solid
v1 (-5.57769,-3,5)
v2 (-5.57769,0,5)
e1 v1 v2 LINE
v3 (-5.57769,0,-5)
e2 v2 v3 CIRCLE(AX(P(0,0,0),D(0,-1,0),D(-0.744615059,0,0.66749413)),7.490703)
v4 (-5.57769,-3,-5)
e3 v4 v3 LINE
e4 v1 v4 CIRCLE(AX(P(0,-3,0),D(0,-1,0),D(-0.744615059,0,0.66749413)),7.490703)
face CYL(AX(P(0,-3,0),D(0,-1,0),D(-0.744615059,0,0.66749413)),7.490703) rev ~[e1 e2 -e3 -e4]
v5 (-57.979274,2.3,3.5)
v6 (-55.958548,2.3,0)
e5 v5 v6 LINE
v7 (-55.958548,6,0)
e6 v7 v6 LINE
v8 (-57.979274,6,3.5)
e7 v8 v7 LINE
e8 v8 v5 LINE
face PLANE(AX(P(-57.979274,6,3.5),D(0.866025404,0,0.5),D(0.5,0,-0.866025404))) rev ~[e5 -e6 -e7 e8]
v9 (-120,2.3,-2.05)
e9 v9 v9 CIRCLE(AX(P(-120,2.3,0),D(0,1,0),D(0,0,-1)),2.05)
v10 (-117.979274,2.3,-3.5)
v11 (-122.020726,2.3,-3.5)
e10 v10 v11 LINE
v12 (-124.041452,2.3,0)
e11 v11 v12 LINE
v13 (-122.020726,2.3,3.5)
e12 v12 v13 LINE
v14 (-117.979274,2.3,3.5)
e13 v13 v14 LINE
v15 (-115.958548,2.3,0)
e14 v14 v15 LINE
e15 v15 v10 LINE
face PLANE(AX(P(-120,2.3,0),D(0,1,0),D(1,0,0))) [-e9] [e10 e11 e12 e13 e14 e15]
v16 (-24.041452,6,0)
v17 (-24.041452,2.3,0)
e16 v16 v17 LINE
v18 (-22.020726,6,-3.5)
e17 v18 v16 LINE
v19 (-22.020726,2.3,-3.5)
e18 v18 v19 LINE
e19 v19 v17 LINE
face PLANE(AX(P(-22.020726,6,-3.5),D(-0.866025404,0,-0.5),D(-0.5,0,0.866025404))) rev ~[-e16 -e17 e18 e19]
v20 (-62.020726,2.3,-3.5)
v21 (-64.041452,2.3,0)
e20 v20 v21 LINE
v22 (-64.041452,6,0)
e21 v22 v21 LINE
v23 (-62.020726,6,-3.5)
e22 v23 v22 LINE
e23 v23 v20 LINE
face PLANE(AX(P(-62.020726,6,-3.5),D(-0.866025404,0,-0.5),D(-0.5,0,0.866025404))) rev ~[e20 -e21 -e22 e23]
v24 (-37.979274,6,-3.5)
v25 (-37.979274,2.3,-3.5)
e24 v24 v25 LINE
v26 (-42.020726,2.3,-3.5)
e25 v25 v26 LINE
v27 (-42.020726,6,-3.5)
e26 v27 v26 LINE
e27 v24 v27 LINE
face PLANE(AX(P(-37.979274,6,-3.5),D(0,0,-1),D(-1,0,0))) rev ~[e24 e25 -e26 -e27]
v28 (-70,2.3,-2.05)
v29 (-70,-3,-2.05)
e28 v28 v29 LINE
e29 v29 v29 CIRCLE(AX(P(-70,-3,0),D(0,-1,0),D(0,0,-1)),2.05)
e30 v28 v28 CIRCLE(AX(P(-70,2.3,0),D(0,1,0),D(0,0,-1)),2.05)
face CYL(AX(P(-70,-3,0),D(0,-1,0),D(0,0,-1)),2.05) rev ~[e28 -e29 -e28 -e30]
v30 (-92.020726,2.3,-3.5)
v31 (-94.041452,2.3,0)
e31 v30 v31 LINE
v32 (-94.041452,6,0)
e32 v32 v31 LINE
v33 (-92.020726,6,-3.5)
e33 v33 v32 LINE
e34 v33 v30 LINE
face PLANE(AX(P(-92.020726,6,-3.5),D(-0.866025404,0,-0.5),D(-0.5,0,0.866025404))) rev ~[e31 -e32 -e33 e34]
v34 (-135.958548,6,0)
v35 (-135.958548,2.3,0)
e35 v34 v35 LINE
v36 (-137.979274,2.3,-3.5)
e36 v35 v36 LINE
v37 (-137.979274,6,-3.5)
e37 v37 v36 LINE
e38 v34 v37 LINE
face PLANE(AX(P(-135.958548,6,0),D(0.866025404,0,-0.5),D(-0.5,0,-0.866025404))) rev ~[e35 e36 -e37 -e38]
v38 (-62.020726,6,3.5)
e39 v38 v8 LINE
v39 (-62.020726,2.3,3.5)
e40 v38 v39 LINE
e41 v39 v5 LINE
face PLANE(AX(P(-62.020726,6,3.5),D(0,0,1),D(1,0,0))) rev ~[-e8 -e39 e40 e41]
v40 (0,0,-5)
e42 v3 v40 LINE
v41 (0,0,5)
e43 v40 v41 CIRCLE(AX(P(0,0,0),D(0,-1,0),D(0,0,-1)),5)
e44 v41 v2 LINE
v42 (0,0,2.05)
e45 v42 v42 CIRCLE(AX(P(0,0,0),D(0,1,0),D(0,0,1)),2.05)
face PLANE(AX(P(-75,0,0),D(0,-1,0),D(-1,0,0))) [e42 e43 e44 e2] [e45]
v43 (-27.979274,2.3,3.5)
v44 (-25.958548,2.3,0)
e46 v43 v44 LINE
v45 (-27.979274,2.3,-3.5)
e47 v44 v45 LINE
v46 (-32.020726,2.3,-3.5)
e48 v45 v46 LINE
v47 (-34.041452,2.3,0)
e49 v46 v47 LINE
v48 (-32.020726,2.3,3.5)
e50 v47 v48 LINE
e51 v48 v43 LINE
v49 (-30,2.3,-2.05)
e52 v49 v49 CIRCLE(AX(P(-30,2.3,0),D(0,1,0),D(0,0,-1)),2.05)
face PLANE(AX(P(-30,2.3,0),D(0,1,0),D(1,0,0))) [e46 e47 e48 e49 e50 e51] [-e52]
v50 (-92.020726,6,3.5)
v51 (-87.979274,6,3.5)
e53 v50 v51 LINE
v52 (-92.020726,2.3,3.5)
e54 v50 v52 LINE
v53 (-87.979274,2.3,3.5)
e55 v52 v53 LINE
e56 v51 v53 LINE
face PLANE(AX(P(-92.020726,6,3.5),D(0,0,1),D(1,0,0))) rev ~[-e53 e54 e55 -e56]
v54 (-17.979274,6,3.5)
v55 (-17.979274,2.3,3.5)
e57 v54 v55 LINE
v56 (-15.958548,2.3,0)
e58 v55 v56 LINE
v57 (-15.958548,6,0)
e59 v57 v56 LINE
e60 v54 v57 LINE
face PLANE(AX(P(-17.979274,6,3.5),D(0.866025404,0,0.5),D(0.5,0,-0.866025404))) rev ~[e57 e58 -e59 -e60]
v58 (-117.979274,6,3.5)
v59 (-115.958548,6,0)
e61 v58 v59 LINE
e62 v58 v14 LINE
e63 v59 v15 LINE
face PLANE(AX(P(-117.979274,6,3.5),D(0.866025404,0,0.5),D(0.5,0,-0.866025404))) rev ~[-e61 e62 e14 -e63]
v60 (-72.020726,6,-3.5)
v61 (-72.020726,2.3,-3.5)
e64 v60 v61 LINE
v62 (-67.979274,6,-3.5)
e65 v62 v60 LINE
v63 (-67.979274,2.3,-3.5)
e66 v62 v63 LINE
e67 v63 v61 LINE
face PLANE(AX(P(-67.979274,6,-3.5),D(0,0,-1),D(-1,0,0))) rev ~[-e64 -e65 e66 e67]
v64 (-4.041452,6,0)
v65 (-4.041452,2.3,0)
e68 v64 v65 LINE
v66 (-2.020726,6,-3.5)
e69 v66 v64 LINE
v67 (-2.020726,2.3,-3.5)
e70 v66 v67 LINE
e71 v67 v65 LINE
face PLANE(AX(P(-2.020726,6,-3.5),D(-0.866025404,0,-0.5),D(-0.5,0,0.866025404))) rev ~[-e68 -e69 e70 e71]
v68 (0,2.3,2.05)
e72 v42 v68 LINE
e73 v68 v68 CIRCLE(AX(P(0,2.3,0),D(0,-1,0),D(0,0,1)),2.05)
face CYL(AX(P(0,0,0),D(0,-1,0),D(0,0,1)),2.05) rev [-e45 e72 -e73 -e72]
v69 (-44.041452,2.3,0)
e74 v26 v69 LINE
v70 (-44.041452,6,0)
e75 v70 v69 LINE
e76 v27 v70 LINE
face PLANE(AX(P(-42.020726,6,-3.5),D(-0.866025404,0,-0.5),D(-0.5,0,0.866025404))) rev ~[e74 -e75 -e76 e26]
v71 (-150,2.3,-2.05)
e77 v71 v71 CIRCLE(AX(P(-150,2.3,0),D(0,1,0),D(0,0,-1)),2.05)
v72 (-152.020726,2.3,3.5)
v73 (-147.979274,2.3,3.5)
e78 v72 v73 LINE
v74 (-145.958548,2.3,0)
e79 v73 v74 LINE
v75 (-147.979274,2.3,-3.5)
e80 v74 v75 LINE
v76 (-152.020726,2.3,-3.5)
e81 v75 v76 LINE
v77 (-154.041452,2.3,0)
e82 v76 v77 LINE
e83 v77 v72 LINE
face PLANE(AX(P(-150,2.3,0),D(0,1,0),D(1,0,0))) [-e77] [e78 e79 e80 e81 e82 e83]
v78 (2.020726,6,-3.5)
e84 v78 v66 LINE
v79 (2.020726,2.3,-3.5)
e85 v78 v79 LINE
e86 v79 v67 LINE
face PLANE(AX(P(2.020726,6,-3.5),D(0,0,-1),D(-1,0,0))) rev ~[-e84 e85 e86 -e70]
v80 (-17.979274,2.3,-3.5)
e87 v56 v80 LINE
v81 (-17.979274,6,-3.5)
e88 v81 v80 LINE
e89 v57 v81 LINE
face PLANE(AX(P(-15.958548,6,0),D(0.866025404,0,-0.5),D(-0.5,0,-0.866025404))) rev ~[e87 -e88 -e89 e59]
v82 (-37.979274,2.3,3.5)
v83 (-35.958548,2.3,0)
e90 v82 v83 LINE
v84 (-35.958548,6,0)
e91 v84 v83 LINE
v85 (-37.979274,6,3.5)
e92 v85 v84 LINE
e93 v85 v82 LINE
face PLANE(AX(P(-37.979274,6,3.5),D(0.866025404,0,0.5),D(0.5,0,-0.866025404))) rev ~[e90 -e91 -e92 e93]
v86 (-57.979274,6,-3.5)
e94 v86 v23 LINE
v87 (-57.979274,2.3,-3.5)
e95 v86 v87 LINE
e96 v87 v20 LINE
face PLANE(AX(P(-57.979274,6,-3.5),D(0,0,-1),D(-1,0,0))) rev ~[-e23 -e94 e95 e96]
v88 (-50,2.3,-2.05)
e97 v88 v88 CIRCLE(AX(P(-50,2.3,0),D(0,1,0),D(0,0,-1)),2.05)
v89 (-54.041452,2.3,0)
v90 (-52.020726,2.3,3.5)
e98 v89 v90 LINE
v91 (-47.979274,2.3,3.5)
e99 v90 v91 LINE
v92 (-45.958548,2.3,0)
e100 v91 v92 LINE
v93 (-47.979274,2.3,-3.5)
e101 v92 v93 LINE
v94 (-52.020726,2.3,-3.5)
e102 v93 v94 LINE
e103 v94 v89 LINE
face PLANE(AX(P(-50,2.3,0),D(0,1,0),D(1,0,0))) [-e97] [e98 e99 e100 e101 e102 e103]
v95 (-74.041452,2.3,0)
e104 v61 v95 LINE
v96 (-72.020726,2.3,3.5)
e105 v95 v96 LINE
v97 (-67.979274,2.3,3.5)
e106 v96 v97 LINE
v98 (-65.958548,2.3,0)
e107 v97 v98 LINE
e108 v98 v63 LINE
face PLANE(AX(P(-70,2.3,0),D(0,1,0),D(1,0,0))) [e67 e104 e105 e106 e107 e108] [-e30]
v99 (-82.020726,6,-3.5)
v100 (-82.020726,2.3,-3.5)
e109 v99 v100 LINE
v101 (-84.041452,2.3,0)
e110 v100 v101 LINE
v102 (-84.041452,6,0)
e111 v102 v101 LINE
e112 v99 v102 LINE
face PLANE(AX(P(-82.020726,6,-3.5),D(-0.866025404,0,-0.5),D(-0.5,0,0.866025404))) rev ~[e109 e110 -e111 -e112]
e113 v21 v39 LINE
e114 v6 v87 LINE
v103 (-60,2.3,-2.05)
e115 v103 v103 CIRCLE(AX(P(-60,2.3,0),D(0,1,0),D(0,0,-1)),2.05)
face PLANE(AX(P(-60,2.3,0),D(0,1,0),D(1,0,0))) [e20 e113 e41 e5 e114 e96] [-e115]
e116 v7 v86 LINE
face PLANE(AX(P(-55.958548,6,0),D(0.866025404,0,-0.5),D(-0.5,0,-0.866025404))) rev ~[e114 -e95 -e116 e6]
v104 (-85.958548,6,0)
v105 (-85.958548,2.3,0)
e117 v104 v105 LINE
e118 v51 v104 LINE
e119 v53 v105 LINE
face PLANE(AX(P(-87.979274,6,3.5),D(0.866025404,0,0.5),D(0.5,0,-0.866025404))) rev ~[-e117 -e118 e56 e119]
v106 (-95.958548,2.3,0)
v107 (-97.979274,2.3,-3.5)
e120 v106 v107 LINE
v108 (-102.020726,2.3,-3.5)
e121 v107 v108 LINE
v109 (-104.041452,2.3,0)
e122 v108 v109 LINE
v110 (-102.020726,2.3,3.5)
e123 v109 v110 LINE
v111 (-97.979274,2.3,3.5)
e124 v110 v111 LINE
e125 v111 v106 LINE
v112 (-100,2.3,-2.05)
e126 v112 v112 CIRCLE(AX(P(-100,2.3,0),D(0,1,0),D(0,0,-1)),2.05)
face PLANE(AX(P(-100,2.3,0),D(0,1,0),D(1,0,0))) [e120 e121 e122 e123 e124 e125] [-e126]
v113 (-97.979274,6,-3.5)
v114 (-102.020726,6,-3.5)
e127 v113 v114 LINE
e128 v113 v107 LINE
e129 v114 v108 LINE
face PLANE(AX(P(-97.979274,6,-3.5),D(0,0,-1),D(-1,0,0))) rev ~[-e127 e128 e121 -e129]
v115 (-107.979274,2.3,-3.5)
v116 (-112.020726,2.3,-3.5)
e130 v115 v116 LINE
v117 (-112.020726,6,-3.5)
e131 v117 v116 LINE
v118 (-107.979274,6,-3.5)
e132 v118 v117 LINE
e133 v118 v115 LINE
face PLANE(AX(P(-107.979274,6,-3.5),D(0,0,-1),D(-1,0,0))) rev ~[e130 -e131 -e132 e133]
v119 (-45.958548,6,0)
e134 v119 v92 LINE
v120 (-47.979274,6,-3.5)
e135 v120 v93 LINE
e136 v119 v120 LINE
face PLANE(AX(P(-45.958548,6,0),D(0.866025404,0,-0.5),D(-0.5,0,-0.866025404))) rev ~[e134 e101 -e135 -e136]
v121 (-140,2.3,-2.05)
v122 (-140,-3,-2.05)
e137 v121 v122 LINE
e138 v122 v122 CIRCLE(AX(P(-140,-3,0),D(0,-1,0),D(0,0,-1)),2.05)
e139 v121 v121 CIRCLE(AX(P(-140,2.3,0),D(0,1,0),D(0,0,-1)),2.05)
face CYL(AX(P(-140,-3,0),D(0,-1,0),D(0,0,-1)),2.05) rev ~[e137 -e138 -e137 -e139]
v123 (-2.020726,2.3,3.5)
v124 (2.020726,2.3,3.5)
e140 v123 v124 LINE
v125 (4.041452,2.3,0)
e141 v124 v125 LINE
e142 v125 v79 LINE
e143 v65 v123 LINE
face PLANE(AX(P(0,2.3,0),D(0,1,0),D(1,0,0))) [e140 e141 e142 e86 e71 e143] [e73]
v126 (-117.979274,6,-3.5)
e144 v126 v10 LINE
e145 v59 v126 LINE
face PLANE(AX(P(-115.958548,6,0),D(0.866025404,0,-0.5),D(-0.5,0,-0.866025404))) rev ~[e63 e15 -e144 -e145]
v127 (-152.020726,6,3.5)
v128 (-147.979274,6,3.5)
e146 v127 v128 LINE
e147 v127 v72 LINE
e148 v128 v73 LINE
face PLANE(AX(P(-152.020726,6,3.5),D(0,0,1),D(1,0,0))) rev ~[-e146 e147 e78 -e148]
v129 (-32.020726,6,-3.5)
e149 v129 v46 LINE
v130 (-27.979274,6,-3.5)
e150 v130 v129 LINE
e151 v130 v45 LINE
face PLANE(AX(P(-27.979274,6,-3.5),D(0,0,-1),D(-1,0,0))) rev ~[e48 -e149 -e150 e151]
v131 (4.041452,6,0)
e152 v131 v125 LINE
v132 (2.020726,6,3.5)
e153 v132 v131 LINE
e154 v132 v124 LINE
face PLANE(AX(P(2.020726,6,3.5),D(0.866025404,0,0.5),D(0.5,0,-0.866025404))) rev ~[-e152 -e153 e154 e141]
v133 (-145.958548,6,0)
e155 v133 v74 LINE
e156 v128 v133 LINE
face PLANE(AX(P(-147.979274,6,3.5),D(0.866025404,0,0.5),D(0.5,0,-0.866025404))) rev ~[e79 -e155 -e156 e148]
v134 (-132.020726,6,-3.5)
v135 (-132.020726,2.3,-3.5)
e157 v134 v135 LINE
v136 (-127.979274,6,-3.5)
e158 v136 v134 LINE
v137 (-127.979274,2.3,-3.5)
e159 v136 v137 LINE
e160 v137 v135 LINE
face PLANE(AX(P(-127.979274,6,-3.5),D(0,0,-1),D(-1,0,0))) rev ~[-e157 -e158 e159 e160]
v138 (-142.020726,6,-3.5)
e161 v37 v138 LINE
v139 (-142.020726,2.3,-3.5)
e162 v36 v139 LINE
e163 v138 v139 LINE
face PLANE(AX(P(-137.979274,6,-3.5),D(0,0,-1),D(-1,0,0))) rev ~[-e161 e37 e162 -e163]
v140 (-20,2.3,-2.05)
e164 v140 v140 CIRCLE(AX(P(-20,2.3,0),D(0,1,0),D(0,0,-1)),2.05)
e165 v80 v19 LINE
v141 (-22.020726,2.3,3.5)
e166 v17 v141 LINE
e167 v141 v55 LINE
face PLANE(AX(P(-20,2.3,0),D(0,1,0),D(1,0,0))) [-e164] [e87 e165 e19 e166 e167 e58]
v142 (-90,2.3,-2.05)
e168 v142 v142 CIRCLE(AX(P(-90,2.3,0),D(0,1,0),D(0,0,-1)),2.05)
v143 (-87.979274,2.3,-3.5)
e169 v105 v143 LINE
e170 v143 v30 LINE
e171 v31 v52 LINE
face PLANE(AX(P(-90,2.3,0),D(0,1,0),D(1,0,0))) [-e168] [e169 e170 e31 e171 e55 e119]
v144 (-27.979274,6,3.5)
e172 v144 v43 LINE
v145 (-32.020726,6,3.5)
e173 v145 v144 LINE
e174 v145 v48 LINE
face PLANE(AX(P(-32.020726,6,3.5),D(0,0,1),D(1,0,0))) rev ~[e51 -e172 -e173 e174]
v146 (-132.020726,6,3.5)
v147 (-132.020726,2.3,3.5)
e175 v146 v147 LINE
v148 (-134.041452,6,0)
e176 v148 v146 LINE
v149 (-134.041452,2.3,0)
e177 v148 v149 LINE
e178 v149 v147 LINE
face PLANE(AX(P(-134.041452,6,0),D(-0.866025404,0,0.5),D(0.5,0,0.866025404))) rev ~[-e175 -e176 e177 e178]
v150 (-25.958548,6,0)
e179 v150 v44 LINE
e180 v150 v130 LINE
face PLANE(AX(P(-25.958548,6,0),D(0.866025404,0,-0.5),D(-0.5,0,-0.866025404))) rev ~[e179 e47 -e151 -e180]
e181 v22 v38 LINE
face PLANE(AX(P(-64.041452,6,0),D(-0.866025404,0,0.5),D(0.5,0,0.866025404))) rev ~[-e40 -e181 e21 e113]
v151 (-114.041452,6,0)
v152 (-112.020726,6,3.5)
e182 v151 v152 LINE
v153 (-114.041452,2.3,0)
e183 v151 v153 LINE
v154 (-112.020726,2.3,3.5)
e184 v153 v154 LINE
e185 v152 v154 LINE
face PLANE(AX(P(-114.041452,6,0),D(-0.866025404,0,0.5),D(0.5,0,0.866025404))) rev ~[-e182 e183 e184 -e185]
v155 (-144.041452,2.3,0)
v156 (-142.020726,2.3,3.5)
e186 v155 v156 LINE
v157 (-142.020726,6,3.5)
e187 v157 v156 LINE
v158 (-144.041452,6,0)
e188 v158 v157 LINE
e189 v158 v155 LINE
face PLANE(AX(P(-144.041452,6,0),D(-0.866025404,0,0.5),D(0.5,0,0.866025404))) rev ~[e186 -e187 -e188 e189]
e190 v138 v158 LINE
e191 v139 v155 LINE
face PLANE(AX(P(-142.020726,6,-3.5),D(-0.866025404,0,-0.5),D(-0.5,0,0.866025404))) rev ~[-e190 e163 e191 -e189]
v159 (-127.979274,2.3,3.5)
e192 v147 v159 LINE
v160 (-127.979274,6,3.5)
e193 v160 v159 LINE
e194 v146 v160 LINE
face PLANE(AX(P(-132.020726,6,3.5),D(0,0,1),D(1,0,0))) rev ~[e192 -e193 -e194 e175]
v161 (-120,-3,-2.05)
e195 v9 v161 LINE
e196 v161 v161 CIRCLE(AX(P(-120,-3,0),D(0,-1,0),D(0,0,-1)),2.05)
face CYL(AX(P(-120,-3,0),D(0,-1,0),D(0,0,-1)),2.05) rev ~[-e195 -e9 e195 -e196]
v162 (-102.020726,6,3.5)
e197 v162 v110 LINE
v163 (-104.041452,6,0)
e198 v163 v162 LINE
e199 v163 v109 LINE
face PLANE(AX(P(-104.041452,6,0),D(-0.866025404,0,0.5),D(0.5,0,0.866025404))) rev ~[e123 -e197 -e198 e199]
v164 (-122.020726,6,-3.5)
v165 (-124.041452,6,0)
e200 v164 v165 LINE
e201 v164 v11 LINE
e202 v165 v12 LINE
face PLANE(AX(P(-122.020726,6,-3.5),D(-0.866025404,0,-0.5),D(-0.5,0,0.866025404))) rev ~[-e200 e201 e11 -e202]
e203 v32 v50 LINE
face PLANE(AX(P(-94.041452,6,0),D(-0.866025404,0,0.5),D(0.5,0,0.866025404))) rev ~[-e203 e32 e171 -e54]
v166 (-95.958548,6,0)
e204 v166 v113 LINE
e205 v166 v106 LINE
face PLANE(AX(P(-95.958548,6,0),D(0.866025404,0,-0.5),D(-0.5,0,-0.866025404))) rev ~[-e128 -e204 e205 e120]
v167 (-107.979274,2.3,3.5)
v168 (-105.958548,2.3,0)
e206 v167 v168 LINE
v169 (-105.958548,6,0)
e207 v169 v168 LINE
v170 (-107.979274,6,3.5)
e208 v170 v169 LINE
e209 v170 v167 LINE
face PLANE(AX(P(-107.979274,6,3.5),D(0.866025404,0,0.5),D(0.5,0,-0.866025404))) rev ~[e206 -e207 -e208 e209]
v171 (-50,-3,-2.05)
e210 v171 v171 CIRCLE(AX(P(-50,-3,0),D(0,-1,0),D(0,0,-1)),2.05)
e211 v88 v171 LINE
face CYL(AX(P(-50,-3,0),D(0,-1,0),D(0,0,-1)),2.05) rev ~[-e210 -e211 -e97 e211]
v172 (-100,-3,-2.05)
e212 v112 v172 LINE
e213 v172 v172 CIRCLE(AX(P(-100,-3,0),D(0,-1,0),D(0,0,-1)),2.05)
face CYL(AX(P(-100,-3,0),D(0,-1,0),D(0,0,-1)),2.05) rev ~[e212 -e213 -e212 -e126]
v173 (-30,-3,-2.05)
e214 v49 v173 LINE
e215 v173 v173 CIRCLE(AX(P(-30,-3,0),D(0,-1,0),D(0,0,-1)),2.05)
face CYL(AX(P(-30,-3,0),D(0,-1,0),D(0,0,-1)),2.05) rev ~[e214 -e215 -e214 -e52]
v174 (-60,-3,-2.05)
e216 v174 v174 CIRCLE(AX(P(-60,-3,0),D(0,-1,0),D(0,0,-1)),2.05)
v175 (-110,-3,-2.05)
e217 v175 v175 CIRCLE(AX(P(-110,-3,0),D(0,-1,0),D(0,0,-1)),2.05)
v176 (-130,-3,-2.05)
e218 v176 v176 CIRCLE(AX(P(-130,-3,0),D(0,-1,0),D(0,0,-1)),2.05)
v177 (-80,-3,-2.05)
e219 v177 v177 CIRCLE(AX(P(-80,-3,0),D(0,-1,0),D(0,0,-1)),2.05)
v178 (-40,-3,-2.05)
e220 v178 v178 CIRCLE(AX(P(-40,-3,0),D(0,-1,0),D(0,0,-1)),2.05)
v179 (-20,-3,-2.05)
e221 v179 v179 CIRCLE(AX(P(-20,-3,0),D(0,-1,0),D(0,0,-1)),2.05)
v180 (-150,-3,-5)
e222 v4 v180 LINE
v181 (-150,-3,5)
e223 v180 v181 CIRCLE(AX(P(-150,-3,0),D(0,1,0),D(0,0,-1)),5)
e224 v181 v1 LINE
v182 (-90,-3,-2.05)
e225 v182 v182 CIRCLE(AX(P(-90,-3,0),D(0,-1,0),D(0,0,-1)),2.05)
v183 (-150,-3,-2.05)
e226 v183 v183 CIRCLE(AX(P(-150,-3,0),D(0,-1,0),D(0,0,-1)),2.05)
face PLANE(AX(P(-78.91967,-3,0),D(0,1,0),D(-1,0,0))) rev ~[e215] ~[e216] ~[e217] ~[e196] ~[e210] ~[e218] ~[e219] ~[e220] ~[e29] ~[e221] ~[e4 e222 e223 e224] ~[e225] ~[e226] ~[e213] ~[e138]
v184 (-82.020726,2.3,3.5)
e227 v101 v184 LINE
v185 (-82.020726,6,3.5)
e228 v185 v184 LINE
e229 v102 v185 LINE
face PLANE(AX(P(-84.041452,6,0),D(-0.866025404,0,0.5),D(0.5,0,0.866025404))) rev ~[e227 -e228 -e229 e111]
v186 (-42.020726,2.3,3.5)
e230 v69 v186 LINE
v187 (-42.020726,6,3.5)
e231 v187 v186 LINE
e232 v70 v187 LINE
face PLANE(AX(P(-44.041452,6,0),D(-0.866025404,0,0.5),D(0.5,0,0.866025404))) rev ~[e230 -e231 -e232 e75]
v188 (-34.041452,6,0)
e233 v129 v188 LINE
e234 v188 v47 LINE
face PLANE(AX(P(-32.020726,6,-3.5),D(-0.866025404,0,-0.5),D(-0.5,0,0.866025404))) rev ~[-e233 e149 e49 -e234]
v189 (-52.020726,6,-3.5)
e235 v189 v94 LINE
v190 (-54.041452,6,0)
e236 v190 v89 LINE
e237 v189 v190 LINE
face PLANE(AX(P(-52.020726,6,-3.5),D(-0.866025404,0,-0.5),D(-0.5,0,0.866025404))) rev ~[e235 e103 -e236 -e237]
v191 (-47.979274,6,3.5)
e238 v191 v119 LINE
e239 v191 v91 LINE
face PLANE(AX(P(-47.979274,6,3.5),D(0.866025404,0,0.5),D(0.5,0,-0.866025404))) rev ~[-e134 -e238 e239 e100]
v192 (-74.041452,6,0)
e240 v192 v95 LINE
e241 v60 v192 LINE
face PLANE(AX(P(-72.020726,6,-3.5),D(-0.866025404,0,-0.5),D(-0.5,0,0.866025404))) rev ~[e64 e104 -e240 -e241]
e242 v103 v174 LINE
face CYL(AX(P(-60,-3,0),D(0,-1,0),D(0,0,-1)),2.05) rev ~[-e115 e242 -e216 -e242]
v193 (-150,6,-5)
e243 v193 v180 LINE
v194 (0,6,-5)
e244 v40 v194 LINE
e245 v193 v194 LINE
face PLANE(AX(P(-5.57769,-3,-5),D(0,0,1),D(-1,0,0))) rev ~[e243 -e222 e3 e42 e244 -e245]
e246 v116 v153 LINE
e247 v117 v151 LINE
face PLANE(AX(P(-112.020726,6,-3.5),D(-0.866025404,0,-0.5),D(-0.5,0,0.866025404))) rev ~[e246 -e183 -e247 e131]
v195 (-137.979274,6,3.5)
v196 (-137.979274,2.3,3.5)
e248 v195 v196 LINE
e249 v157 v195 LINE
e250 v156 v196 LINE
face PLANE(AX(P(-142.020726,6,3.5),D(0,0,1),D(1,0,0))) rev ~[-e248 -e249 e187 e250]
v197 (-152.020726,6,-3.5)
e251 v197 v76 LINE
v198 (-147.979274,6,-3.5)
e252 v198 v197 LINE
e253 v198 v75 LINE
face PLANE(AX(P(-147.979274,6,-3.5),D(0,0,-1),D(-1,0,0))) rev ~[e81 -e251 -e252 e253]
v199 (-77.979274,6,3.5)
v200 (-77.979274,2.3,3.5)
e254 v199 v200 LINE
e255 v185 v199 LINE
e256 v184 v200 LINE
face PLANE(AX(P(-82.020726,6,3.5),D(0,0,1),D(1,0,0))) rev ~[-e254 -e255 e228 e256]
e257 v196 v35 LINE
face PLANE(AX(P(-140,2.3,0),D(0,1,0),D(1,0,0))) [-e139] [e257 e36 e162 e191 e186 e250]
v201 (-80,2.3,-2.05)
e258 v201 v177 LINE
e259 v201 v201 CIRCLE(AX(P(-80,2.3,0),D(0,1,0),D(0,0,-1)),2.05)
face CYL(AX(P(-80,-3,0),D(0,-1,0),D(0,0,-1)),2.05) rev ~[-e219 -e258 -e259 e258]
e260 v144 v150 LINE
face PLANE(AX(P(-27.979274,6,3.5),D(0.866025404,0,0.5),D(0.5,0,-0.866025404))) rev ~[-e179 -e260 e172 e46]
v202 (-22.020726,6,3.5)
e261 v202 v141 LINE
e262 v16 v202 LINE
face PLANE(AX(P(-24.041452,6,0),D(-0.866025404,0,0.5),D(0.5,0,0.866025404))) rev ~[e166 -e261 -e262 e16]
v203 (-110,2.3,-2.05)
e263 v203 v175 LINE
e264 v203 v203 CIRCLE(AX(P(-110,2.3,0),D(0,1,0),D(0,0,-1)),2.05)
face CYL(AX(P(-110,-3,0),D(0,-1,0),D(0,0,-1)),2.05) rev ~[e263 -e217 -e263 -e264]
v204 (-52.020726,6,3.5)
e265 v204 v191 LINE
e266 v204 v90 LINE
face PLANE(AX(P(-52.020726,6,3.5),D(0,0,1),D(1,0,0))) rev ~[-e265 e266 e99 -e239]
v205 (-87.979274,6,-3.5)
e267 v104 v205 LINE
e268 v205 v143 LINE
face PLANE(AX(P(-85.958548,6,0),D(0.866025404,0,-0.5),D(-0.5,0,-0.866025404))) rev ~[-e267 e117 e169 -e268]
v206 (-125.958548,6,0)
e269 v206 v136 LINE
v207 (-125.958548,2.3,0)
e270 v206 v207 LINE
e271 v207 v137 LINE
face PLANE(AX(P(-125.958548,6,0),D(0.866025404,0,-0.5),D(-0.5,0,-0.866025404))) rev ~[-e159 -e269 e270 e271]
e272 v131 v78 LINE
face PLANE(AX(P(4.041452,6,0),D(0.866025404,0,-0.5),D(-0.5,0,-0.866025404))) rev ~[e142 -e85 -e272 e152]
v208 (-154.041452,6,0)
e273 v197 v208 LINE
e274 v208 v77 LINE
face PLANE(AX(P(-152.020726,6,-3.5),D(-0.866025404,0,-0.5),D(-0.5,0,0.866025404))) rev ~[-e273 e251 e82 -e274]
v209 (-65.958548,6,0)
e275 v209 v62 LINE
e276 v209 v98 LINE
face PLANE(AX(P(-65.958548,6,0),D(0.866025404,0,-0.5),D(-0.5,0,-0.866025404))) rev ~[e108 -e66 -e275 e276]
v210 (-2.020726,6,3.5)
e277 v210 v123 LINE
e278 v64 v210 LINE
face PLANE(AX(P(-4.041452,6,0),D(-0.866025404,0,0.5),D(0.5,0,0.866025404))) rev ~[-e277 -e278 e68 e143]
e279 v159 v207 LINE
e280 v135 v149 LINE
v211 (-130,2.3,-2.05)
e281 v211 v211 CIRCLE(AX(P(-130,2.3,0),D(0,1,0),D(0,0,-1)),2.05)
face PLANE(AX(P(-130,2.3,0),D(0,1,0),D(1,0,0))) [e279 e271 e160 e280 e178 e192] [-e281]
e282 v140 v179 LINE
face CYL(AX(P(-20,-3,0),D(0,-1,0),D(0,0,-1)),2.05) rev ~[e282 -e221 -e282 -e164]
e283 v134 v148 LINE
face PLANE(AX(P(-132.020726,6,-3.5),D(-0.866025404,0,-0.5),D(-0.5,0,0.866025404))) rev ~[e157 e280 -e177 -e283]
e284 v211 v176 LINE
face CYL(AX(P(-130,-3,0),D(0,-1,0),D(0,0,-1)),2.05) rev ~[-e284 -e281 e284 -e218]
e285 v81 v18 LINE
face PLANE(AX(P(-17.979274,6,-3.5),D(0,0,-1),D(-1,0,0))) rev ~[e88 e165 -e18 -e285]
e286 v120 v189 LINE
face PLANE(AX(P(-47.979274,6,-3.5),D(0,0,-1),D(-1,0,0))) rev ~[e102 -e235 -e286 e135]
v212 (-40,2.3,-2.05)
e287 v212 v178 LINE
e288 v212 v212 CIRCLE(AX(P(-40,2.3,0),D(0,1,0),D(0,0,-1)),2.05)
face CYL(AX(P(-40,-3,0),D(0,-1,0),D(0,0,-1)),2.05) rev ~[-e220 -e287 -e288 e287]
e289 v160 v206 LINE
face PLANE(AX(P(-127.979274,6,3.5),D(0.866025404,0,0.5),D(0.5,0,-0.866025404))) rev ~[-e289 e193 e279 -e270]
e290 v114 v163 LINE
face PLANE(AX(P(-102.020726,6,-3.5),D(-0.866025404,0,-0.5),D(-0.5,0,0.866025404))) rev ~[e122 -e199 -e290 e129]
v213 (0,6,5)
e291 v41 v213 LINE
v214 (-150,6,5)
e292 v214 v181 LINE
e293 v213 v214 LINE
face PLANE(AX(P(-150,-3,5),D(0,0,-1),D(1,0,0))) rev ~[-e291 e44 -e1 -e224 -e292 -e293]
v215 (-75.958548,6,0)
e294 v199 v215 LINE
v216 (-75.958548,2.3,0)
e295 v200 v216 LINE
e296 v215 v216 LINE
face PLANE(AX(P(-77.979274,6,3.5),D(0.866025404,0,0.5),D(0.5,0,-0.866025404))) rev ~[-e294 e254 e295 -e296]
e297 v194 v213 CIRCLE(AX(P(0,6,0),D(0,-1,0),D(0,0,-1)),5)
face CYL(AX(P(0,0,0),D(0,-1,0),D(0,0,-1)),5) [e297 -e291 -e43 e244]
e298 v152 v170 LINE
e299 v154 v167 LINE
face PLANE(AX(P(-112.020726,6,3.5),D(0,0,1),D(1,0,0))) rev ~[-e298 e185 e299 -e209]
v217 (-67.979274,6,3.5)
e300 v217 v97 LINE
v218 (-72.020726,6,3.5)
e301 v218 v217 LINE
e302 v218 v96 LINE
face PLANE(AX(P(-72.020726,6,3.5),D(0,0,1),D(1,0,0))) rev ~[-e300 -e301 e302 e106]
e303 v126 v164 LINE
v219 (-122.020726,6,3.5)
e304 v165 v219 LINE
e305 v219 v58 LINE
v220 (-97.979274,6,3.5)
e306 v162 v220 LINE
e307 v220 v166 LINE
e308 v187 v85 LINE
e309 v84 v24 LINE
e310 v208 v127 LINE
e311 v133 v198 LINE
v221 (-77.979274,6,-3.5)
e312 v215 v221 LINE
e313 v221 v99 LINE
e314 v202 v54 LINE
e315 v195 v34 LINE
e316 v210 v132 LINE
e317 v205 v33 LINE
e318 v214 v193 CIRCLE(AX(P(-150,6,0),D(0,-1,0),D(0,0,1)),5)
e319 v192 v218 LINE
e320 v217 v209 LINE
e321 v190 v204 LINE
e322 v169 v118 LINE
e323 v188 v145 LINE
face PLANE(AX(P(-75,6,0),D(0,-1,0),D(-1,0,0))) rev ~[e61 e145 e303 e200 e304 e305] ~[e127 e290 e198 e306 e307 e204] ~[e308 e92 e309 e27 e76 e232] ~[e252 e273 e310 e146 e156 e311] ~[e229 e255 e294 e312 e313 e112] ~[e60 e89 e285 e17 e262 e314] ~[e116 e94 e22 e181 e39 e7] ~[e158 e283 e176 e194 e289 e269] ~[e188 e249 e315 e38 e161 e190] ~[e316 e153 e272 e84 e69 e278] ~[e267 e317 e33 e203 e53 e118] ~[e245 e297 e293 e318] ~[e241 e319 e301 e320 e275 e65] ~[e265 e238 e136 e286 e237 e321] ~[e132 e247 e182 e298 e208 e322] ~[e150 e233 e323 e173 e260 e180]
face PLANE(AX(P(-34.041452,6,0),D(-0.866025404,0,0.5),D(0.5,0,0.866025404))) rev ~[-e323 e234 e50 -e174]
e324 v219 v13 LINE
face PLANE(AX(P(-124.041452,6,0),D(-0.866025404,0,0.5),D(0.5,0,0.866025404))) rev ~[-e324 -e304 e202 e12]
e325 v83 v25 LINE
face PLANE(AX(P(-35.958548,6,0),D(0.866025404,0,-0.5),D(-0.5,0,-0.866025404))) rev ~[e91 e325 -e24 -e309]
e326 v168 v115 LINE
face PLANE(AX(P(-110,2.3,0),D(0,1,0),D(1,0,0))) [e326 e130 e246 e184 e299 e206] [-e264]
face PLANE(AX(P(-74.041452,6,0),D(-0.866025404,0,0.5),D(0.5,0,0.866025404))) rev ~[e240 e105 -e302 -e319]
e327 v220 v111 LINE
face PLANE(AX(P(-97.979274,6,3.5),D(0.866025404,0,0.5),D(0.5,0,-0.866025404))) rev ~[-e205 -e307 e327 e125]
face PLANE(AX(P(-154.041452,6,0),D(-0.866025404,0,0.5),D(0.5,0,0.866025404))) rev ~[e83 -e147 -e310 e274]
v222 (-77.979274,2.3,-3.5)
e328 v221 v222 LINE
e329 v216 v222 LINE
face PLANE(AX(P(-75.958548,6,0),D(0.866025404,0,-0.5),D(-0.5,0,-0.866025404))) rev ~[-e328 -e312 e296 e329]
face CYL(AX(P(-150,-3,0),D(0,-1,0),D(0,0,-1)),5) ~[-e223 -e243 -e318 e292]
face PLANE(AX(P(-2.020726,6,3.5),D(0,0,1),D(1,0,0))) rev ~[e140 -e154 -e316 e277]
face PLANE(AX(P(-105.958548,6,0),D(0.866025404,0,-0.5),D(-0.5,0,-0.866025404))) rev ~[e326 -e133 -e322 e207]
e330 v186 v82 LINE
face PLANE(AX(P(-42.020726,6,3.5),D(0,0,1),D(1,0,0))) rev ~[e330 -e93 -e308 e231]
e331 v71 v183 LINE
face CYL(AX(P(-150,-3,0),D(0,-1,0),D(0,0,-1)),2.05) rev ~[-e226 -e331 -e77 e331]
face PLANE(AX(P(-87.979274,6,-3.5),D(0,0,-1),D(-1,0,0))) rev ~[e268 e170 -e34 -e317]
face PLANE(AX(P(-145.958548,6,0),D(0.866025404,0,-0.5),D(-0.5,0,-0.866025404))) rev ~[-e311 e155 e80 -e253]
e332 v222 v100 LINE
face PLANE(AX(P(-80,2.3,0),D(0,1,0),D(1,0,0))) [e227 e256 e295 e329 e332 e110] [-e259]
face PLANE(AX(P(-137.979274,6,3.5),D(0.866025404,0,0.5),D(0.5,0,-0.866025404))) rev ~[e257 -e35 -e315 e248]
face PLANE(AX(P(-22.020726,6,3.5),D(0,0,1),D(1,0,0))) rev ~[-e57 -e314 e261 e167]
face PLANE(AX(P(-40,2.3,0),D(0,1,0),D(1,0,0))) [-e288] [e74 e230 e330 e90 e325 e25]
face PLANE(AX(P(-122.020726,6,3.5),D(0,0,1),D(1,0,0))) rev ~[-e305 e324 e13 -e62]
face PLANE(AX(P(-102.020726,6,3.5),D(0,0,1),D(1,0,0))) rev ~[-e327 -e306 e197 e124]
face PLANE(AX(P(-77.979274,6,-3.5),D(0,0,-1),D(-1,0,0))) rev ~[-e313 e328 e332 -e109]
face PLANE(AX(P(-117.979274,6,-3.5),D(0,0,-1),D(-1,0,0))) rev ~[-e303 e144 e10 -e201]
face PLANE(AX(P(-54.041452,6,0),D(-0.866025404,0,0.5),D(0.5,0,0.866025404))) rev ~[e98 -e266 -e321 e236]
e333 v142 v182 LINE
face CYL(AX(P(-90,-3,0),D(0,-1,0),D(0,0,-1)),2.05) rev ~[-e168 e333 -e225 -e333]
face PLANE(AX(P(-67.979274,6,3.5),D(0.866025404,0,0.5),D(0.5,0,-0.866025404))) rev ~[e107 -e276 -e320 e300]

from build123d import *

# Parameters (mm, degrees)
SKETCH1_R           = 2.05
BOSS_EXTRUDE1_DEPTH = 6
CUT_EXTRUDE1_DEPTH  = 3.7
BOSS_EXTRUDE2_START = 3
BOSS_EXTRUDE2_DEPTH = 3
SKETCH5_R           = 2.05
CUT_EXTRUDE2_DEPTH  = 156.341559153


with BuildPart() as part:
    # Sketch1 → Boss-Extrude1 (new body)
    with BuildSketch(Plane(origin=(0, 0, 0), x_dir=(1, 0, 0), z_dir=(0, 1, 0))):
        with BuildLine():
            Line((0, -5), (-150, -5))
            ThreePointArc((-150, -5), (-155, 0), (-150, 5))
            Line((-150, 5), (0, 5))
            ThreePointArc((0, 5), (5, 0), (0, -5))
        make_face()
        with Locations(Location((0, 0, 0), (0, 0, 270))):
            Circle(SKETCH1_R, mode=Mode.SUBTRACT)
        with Locations(Location((-50, 0, 0), (0, 0, 270))):
            Circle(SKETCH1_R, mode=Mode.SUBTRACT)
        with Locations(Location((-60, 0, 0), (0, 0, 270))):
            Circle(SKETCH1_R, mode=Mode.SUBTRACT)
        with Locations(Location((-70, 0, 0), (0, 0, 270))):
            Circle(SKETCH1_R, mode=Mode.SUBTRACT)
        with Locations(Location((-80, 0, 0), (0, 0, 270))):
            Circle(SKETCH1_R, mode=Mode.SUBTRACT)
        with Locations(Location((-90, 0, 0), (0, 0, 270))):
            Circle(SKETCH1_R, mode=Mode.SUBTRACT)
        with Locations(Location((-100, 0, 0), (0, 0, 270))):
            Circle(SKETCH1_R, mode=Mode.SUBTRACT)
        with Locations(Location((-110, 0, 0), (0, 0, 270))):
            Circle(SKETCH1_R, mode=Mode.SUBTRACT)
        with Locations(Location((-120, 0, 0), (0, 0, 270))):
            Circle(SKETCH1_R, mode=Mode.SUBTRACT)
        with Locations(Location((-130, 0, 0), (0, 0, 270))):
            Circle(SKETCH1_R, mode=Mode.SUBTRACT)
        with Locations(Location((-140, 0, 0), (0, 0, 270))):
            Circle(SKETCH1_R, mode=Mode.SUBTRACT)
        with Locations(Location((-150, 0, 0), (0, 0, 270))):
            Circle(SKETCH1_R, mode=Mode.SUBTRACT)
        with Locations(Location((-20, 0, 0), (0, 0, 270))):
            Circle(SKETCH1_R, mode=Mode.SUBTRACT)
        with Locations(Location((-30, 0, 0), (0, 0, 270))):
            Circle(SKETCH1_R, mode=Mode.SUBTRACT)
        with Locations(Location((-40, 0, 0), (0, 0, 270))):
            Circle(SKETCH1_R, mode=Mode.SUBTRACT)
    extrude(amount=BOSS_EXTRUDE1_DEPTH)

    # Sketch2 → Cut-Extrude1 (cut)
    with BuildSketch(Plane(origin=(0, 6, 0), x_dir=(1, 0, 0), z_dir=(0, 1, 0))):
        Polygon((4.041451884, 0), (2.020725942, 3.5), (-2.020725942, 3.5), (-4.041451884, 0), (-2.020725942, -3.5), (2.020725942, -3.5), align=None)
        Polygon((-45.958548116, 0), (-47.979274058, 3.5), (-52.020725942, 3.5), (-54.041451884, 0), (-52.020725942, -3.5), (-47.979274058, -3.5), align=None)
        Polygon((-55.958548116, 0), (-57.979274058, 3.5), (-62.020725942, 3.5), (-64.041451884, 0), (-62.020725942, -3.5), (-57.979274058, -3.5), align=None)
        Polygon((-65.958548116, 0), (-67.979274058, 3.5), (-72.020725942, 3.5), (-74.041451884, 0), (-72.020725942, -3.5), (-67.979274058, -3.5), align=None)
        Polygon((-75.958548116, 0), (-77.979274058, 3.5), (-82.020725942, 3.5), (-84.041451884, 0), (-82.020725942, -3.5), (-77.979274058, -3.5), align=None)
        Polygon((-85.958548116, 0), (-87.979274058, 3.5), (-92.020725942, 3.5), (-94.041451884, 0), (-92.020725942, -3.5), (-87.979274058, -3.5), align=None)
        Polygon((-95.958548116, 0), (-97.979274058, 3.5), (-102.020725942, 3.5), (-104.041451884, 0), (-102.020725942, -3.5), (-97.979274058, -3.5), align=None)
        Polygon((-105.958548116, 0), (-107.979274058, 3.5), (-112.020725942, 3.5), (-114.041451884, 0), (-112.020725942, -3.5), (-107.979274058, -3.5), align=None)
        Polygon((-115.958548116, 0), (-117.979274058, 3.5), (-122.020725942, 3.5), (-124.041451884, 0), (-122.020725942, -3.5), (-117.979274058, -3.5), align=None)
        Polygon((-125.958548116, 0), (-127.979274058, 3.5), (-132.020725942, 3.5), (-134.041451884, 0), (-132.020725942, -3.5), (-127.979274058, -3.5), align=None)
        Polygon((-135.958548116, 0), (-137.979274058, 3.5), (-142.020725942, 3.5), (-144.041451884, 0), (-142.020725942, -3.5), (-137.979274058, -3.5), align=None)
        Polygon((-145.958548116, 0), (-147.979274058, 3.5), (-152.020725942, 3.5), (-154.041451884, 0), (-152.020725942, -3.5), (-147.979274058, -3.5), align=None)
        Polygon((-15.958548116, 0), (-17.979274058, 3.5), (-22.020725942, 3.5), (-24.041451884, 0), (-22.020725942, -3.5), (-17.979274058, -3.5), align=None)
        Polygon((-25.958548116, 0), (-27.979274058, 3.5), (-32.020725942, 3.5), (-34.041451884, 0), (-32.020725942, -3.5), (-27.979274058, -3.5), align=None)
        Polygon((-35.958548116, 0), (-37.979274058, 3.5), (-42.020725942, 3.5), (-44.041451884, 0), (-42.020725942, -3.5), (-37.979274058, -3.5), align=None)
    extrude(amount=-CUT_EXTRUDE1_DEPTH, mode=Mode.SUBTRACT)

    # Sketch4 → Boss-Extrude2 (add)
    with BuildSketch(Plane.XZ.offset(BOSS_EXTRUDE2_START)):
        with BuildLine():
            Line((-150, 5), (-5.577689938, 5))
            ThreePointArc((-5.577689938, 5), (-7.490702573, 0), (-5.577689938, -5))
            Line((-5.577689938, -5), (-150, -5))
            ThreePointArc((-150, -5), (-155, 0), (-150, 5))
        make_face()
    extrude(amount=-BOSS_EXTRUDE2_DEPTH)

    # Sketch5 → Cut-Extrude2 (cut, through all)
    with BuildSketch(Plane.XZ.offset(3)):
        with Locations(Location((-50, 0, 0), (0, 0, 270))):
            Circle(SKETCH5_R)
        with Locations(Location((-60, 0, 0), (0, 0, 270))):
            Circle(SKETCH5_R)
        with Locations(Location((-70, 0, 0), (0, 0, 270))):
            Circle(SKETCH5_R)
        with Locations(Location((-80, 0, 0), (0, 0, 270))):
            Circle(SKETCH5_R)
        with Locations(Location((-90, 0, 0), (0, 0, 270))):
            Circle(SKETCH5_R)
        with Locations(Location((-100, 0, 0), (0, 0, 270))):
            Circle(SKETCH5_R)
        with Locations(Location((-110, 0, 0), (0, 0, 270))):
            Circle(SKETCH5_R)
        with Locations(Location((-120, 0, 0), (0, 0, 270))):
            Circle(SKETCH5_R)
        with Locations(Location((-130, 0, 0), (0, 0, 270))):
            Circle(SKETCH5_R)
        with Locations(Location((-140, 0, 0), (0, 0, 270))):
            Circle(SKETCH5_R)
        with Locations(Location((-150, 0, 0), (0, 0, 270))):
            Circle(SKETCH5_R)
        with Locations(Location((-40, 0, 0), (0, 0, 270))):
            Circle(SKETCH5_R)
        with Locations(Location((-30, 0, 0), (0, 0, 270))):
            Circle(SKETCH5_R)
        with Locations(Location((-20, 0, 0), (0, 0, 270))):
            Circle(SKETCH5_R)
    extrude(amount=-CUT_EXTRUDE2_DEPTH, mode=Mode.SUBTRACT)


solid = part.part
